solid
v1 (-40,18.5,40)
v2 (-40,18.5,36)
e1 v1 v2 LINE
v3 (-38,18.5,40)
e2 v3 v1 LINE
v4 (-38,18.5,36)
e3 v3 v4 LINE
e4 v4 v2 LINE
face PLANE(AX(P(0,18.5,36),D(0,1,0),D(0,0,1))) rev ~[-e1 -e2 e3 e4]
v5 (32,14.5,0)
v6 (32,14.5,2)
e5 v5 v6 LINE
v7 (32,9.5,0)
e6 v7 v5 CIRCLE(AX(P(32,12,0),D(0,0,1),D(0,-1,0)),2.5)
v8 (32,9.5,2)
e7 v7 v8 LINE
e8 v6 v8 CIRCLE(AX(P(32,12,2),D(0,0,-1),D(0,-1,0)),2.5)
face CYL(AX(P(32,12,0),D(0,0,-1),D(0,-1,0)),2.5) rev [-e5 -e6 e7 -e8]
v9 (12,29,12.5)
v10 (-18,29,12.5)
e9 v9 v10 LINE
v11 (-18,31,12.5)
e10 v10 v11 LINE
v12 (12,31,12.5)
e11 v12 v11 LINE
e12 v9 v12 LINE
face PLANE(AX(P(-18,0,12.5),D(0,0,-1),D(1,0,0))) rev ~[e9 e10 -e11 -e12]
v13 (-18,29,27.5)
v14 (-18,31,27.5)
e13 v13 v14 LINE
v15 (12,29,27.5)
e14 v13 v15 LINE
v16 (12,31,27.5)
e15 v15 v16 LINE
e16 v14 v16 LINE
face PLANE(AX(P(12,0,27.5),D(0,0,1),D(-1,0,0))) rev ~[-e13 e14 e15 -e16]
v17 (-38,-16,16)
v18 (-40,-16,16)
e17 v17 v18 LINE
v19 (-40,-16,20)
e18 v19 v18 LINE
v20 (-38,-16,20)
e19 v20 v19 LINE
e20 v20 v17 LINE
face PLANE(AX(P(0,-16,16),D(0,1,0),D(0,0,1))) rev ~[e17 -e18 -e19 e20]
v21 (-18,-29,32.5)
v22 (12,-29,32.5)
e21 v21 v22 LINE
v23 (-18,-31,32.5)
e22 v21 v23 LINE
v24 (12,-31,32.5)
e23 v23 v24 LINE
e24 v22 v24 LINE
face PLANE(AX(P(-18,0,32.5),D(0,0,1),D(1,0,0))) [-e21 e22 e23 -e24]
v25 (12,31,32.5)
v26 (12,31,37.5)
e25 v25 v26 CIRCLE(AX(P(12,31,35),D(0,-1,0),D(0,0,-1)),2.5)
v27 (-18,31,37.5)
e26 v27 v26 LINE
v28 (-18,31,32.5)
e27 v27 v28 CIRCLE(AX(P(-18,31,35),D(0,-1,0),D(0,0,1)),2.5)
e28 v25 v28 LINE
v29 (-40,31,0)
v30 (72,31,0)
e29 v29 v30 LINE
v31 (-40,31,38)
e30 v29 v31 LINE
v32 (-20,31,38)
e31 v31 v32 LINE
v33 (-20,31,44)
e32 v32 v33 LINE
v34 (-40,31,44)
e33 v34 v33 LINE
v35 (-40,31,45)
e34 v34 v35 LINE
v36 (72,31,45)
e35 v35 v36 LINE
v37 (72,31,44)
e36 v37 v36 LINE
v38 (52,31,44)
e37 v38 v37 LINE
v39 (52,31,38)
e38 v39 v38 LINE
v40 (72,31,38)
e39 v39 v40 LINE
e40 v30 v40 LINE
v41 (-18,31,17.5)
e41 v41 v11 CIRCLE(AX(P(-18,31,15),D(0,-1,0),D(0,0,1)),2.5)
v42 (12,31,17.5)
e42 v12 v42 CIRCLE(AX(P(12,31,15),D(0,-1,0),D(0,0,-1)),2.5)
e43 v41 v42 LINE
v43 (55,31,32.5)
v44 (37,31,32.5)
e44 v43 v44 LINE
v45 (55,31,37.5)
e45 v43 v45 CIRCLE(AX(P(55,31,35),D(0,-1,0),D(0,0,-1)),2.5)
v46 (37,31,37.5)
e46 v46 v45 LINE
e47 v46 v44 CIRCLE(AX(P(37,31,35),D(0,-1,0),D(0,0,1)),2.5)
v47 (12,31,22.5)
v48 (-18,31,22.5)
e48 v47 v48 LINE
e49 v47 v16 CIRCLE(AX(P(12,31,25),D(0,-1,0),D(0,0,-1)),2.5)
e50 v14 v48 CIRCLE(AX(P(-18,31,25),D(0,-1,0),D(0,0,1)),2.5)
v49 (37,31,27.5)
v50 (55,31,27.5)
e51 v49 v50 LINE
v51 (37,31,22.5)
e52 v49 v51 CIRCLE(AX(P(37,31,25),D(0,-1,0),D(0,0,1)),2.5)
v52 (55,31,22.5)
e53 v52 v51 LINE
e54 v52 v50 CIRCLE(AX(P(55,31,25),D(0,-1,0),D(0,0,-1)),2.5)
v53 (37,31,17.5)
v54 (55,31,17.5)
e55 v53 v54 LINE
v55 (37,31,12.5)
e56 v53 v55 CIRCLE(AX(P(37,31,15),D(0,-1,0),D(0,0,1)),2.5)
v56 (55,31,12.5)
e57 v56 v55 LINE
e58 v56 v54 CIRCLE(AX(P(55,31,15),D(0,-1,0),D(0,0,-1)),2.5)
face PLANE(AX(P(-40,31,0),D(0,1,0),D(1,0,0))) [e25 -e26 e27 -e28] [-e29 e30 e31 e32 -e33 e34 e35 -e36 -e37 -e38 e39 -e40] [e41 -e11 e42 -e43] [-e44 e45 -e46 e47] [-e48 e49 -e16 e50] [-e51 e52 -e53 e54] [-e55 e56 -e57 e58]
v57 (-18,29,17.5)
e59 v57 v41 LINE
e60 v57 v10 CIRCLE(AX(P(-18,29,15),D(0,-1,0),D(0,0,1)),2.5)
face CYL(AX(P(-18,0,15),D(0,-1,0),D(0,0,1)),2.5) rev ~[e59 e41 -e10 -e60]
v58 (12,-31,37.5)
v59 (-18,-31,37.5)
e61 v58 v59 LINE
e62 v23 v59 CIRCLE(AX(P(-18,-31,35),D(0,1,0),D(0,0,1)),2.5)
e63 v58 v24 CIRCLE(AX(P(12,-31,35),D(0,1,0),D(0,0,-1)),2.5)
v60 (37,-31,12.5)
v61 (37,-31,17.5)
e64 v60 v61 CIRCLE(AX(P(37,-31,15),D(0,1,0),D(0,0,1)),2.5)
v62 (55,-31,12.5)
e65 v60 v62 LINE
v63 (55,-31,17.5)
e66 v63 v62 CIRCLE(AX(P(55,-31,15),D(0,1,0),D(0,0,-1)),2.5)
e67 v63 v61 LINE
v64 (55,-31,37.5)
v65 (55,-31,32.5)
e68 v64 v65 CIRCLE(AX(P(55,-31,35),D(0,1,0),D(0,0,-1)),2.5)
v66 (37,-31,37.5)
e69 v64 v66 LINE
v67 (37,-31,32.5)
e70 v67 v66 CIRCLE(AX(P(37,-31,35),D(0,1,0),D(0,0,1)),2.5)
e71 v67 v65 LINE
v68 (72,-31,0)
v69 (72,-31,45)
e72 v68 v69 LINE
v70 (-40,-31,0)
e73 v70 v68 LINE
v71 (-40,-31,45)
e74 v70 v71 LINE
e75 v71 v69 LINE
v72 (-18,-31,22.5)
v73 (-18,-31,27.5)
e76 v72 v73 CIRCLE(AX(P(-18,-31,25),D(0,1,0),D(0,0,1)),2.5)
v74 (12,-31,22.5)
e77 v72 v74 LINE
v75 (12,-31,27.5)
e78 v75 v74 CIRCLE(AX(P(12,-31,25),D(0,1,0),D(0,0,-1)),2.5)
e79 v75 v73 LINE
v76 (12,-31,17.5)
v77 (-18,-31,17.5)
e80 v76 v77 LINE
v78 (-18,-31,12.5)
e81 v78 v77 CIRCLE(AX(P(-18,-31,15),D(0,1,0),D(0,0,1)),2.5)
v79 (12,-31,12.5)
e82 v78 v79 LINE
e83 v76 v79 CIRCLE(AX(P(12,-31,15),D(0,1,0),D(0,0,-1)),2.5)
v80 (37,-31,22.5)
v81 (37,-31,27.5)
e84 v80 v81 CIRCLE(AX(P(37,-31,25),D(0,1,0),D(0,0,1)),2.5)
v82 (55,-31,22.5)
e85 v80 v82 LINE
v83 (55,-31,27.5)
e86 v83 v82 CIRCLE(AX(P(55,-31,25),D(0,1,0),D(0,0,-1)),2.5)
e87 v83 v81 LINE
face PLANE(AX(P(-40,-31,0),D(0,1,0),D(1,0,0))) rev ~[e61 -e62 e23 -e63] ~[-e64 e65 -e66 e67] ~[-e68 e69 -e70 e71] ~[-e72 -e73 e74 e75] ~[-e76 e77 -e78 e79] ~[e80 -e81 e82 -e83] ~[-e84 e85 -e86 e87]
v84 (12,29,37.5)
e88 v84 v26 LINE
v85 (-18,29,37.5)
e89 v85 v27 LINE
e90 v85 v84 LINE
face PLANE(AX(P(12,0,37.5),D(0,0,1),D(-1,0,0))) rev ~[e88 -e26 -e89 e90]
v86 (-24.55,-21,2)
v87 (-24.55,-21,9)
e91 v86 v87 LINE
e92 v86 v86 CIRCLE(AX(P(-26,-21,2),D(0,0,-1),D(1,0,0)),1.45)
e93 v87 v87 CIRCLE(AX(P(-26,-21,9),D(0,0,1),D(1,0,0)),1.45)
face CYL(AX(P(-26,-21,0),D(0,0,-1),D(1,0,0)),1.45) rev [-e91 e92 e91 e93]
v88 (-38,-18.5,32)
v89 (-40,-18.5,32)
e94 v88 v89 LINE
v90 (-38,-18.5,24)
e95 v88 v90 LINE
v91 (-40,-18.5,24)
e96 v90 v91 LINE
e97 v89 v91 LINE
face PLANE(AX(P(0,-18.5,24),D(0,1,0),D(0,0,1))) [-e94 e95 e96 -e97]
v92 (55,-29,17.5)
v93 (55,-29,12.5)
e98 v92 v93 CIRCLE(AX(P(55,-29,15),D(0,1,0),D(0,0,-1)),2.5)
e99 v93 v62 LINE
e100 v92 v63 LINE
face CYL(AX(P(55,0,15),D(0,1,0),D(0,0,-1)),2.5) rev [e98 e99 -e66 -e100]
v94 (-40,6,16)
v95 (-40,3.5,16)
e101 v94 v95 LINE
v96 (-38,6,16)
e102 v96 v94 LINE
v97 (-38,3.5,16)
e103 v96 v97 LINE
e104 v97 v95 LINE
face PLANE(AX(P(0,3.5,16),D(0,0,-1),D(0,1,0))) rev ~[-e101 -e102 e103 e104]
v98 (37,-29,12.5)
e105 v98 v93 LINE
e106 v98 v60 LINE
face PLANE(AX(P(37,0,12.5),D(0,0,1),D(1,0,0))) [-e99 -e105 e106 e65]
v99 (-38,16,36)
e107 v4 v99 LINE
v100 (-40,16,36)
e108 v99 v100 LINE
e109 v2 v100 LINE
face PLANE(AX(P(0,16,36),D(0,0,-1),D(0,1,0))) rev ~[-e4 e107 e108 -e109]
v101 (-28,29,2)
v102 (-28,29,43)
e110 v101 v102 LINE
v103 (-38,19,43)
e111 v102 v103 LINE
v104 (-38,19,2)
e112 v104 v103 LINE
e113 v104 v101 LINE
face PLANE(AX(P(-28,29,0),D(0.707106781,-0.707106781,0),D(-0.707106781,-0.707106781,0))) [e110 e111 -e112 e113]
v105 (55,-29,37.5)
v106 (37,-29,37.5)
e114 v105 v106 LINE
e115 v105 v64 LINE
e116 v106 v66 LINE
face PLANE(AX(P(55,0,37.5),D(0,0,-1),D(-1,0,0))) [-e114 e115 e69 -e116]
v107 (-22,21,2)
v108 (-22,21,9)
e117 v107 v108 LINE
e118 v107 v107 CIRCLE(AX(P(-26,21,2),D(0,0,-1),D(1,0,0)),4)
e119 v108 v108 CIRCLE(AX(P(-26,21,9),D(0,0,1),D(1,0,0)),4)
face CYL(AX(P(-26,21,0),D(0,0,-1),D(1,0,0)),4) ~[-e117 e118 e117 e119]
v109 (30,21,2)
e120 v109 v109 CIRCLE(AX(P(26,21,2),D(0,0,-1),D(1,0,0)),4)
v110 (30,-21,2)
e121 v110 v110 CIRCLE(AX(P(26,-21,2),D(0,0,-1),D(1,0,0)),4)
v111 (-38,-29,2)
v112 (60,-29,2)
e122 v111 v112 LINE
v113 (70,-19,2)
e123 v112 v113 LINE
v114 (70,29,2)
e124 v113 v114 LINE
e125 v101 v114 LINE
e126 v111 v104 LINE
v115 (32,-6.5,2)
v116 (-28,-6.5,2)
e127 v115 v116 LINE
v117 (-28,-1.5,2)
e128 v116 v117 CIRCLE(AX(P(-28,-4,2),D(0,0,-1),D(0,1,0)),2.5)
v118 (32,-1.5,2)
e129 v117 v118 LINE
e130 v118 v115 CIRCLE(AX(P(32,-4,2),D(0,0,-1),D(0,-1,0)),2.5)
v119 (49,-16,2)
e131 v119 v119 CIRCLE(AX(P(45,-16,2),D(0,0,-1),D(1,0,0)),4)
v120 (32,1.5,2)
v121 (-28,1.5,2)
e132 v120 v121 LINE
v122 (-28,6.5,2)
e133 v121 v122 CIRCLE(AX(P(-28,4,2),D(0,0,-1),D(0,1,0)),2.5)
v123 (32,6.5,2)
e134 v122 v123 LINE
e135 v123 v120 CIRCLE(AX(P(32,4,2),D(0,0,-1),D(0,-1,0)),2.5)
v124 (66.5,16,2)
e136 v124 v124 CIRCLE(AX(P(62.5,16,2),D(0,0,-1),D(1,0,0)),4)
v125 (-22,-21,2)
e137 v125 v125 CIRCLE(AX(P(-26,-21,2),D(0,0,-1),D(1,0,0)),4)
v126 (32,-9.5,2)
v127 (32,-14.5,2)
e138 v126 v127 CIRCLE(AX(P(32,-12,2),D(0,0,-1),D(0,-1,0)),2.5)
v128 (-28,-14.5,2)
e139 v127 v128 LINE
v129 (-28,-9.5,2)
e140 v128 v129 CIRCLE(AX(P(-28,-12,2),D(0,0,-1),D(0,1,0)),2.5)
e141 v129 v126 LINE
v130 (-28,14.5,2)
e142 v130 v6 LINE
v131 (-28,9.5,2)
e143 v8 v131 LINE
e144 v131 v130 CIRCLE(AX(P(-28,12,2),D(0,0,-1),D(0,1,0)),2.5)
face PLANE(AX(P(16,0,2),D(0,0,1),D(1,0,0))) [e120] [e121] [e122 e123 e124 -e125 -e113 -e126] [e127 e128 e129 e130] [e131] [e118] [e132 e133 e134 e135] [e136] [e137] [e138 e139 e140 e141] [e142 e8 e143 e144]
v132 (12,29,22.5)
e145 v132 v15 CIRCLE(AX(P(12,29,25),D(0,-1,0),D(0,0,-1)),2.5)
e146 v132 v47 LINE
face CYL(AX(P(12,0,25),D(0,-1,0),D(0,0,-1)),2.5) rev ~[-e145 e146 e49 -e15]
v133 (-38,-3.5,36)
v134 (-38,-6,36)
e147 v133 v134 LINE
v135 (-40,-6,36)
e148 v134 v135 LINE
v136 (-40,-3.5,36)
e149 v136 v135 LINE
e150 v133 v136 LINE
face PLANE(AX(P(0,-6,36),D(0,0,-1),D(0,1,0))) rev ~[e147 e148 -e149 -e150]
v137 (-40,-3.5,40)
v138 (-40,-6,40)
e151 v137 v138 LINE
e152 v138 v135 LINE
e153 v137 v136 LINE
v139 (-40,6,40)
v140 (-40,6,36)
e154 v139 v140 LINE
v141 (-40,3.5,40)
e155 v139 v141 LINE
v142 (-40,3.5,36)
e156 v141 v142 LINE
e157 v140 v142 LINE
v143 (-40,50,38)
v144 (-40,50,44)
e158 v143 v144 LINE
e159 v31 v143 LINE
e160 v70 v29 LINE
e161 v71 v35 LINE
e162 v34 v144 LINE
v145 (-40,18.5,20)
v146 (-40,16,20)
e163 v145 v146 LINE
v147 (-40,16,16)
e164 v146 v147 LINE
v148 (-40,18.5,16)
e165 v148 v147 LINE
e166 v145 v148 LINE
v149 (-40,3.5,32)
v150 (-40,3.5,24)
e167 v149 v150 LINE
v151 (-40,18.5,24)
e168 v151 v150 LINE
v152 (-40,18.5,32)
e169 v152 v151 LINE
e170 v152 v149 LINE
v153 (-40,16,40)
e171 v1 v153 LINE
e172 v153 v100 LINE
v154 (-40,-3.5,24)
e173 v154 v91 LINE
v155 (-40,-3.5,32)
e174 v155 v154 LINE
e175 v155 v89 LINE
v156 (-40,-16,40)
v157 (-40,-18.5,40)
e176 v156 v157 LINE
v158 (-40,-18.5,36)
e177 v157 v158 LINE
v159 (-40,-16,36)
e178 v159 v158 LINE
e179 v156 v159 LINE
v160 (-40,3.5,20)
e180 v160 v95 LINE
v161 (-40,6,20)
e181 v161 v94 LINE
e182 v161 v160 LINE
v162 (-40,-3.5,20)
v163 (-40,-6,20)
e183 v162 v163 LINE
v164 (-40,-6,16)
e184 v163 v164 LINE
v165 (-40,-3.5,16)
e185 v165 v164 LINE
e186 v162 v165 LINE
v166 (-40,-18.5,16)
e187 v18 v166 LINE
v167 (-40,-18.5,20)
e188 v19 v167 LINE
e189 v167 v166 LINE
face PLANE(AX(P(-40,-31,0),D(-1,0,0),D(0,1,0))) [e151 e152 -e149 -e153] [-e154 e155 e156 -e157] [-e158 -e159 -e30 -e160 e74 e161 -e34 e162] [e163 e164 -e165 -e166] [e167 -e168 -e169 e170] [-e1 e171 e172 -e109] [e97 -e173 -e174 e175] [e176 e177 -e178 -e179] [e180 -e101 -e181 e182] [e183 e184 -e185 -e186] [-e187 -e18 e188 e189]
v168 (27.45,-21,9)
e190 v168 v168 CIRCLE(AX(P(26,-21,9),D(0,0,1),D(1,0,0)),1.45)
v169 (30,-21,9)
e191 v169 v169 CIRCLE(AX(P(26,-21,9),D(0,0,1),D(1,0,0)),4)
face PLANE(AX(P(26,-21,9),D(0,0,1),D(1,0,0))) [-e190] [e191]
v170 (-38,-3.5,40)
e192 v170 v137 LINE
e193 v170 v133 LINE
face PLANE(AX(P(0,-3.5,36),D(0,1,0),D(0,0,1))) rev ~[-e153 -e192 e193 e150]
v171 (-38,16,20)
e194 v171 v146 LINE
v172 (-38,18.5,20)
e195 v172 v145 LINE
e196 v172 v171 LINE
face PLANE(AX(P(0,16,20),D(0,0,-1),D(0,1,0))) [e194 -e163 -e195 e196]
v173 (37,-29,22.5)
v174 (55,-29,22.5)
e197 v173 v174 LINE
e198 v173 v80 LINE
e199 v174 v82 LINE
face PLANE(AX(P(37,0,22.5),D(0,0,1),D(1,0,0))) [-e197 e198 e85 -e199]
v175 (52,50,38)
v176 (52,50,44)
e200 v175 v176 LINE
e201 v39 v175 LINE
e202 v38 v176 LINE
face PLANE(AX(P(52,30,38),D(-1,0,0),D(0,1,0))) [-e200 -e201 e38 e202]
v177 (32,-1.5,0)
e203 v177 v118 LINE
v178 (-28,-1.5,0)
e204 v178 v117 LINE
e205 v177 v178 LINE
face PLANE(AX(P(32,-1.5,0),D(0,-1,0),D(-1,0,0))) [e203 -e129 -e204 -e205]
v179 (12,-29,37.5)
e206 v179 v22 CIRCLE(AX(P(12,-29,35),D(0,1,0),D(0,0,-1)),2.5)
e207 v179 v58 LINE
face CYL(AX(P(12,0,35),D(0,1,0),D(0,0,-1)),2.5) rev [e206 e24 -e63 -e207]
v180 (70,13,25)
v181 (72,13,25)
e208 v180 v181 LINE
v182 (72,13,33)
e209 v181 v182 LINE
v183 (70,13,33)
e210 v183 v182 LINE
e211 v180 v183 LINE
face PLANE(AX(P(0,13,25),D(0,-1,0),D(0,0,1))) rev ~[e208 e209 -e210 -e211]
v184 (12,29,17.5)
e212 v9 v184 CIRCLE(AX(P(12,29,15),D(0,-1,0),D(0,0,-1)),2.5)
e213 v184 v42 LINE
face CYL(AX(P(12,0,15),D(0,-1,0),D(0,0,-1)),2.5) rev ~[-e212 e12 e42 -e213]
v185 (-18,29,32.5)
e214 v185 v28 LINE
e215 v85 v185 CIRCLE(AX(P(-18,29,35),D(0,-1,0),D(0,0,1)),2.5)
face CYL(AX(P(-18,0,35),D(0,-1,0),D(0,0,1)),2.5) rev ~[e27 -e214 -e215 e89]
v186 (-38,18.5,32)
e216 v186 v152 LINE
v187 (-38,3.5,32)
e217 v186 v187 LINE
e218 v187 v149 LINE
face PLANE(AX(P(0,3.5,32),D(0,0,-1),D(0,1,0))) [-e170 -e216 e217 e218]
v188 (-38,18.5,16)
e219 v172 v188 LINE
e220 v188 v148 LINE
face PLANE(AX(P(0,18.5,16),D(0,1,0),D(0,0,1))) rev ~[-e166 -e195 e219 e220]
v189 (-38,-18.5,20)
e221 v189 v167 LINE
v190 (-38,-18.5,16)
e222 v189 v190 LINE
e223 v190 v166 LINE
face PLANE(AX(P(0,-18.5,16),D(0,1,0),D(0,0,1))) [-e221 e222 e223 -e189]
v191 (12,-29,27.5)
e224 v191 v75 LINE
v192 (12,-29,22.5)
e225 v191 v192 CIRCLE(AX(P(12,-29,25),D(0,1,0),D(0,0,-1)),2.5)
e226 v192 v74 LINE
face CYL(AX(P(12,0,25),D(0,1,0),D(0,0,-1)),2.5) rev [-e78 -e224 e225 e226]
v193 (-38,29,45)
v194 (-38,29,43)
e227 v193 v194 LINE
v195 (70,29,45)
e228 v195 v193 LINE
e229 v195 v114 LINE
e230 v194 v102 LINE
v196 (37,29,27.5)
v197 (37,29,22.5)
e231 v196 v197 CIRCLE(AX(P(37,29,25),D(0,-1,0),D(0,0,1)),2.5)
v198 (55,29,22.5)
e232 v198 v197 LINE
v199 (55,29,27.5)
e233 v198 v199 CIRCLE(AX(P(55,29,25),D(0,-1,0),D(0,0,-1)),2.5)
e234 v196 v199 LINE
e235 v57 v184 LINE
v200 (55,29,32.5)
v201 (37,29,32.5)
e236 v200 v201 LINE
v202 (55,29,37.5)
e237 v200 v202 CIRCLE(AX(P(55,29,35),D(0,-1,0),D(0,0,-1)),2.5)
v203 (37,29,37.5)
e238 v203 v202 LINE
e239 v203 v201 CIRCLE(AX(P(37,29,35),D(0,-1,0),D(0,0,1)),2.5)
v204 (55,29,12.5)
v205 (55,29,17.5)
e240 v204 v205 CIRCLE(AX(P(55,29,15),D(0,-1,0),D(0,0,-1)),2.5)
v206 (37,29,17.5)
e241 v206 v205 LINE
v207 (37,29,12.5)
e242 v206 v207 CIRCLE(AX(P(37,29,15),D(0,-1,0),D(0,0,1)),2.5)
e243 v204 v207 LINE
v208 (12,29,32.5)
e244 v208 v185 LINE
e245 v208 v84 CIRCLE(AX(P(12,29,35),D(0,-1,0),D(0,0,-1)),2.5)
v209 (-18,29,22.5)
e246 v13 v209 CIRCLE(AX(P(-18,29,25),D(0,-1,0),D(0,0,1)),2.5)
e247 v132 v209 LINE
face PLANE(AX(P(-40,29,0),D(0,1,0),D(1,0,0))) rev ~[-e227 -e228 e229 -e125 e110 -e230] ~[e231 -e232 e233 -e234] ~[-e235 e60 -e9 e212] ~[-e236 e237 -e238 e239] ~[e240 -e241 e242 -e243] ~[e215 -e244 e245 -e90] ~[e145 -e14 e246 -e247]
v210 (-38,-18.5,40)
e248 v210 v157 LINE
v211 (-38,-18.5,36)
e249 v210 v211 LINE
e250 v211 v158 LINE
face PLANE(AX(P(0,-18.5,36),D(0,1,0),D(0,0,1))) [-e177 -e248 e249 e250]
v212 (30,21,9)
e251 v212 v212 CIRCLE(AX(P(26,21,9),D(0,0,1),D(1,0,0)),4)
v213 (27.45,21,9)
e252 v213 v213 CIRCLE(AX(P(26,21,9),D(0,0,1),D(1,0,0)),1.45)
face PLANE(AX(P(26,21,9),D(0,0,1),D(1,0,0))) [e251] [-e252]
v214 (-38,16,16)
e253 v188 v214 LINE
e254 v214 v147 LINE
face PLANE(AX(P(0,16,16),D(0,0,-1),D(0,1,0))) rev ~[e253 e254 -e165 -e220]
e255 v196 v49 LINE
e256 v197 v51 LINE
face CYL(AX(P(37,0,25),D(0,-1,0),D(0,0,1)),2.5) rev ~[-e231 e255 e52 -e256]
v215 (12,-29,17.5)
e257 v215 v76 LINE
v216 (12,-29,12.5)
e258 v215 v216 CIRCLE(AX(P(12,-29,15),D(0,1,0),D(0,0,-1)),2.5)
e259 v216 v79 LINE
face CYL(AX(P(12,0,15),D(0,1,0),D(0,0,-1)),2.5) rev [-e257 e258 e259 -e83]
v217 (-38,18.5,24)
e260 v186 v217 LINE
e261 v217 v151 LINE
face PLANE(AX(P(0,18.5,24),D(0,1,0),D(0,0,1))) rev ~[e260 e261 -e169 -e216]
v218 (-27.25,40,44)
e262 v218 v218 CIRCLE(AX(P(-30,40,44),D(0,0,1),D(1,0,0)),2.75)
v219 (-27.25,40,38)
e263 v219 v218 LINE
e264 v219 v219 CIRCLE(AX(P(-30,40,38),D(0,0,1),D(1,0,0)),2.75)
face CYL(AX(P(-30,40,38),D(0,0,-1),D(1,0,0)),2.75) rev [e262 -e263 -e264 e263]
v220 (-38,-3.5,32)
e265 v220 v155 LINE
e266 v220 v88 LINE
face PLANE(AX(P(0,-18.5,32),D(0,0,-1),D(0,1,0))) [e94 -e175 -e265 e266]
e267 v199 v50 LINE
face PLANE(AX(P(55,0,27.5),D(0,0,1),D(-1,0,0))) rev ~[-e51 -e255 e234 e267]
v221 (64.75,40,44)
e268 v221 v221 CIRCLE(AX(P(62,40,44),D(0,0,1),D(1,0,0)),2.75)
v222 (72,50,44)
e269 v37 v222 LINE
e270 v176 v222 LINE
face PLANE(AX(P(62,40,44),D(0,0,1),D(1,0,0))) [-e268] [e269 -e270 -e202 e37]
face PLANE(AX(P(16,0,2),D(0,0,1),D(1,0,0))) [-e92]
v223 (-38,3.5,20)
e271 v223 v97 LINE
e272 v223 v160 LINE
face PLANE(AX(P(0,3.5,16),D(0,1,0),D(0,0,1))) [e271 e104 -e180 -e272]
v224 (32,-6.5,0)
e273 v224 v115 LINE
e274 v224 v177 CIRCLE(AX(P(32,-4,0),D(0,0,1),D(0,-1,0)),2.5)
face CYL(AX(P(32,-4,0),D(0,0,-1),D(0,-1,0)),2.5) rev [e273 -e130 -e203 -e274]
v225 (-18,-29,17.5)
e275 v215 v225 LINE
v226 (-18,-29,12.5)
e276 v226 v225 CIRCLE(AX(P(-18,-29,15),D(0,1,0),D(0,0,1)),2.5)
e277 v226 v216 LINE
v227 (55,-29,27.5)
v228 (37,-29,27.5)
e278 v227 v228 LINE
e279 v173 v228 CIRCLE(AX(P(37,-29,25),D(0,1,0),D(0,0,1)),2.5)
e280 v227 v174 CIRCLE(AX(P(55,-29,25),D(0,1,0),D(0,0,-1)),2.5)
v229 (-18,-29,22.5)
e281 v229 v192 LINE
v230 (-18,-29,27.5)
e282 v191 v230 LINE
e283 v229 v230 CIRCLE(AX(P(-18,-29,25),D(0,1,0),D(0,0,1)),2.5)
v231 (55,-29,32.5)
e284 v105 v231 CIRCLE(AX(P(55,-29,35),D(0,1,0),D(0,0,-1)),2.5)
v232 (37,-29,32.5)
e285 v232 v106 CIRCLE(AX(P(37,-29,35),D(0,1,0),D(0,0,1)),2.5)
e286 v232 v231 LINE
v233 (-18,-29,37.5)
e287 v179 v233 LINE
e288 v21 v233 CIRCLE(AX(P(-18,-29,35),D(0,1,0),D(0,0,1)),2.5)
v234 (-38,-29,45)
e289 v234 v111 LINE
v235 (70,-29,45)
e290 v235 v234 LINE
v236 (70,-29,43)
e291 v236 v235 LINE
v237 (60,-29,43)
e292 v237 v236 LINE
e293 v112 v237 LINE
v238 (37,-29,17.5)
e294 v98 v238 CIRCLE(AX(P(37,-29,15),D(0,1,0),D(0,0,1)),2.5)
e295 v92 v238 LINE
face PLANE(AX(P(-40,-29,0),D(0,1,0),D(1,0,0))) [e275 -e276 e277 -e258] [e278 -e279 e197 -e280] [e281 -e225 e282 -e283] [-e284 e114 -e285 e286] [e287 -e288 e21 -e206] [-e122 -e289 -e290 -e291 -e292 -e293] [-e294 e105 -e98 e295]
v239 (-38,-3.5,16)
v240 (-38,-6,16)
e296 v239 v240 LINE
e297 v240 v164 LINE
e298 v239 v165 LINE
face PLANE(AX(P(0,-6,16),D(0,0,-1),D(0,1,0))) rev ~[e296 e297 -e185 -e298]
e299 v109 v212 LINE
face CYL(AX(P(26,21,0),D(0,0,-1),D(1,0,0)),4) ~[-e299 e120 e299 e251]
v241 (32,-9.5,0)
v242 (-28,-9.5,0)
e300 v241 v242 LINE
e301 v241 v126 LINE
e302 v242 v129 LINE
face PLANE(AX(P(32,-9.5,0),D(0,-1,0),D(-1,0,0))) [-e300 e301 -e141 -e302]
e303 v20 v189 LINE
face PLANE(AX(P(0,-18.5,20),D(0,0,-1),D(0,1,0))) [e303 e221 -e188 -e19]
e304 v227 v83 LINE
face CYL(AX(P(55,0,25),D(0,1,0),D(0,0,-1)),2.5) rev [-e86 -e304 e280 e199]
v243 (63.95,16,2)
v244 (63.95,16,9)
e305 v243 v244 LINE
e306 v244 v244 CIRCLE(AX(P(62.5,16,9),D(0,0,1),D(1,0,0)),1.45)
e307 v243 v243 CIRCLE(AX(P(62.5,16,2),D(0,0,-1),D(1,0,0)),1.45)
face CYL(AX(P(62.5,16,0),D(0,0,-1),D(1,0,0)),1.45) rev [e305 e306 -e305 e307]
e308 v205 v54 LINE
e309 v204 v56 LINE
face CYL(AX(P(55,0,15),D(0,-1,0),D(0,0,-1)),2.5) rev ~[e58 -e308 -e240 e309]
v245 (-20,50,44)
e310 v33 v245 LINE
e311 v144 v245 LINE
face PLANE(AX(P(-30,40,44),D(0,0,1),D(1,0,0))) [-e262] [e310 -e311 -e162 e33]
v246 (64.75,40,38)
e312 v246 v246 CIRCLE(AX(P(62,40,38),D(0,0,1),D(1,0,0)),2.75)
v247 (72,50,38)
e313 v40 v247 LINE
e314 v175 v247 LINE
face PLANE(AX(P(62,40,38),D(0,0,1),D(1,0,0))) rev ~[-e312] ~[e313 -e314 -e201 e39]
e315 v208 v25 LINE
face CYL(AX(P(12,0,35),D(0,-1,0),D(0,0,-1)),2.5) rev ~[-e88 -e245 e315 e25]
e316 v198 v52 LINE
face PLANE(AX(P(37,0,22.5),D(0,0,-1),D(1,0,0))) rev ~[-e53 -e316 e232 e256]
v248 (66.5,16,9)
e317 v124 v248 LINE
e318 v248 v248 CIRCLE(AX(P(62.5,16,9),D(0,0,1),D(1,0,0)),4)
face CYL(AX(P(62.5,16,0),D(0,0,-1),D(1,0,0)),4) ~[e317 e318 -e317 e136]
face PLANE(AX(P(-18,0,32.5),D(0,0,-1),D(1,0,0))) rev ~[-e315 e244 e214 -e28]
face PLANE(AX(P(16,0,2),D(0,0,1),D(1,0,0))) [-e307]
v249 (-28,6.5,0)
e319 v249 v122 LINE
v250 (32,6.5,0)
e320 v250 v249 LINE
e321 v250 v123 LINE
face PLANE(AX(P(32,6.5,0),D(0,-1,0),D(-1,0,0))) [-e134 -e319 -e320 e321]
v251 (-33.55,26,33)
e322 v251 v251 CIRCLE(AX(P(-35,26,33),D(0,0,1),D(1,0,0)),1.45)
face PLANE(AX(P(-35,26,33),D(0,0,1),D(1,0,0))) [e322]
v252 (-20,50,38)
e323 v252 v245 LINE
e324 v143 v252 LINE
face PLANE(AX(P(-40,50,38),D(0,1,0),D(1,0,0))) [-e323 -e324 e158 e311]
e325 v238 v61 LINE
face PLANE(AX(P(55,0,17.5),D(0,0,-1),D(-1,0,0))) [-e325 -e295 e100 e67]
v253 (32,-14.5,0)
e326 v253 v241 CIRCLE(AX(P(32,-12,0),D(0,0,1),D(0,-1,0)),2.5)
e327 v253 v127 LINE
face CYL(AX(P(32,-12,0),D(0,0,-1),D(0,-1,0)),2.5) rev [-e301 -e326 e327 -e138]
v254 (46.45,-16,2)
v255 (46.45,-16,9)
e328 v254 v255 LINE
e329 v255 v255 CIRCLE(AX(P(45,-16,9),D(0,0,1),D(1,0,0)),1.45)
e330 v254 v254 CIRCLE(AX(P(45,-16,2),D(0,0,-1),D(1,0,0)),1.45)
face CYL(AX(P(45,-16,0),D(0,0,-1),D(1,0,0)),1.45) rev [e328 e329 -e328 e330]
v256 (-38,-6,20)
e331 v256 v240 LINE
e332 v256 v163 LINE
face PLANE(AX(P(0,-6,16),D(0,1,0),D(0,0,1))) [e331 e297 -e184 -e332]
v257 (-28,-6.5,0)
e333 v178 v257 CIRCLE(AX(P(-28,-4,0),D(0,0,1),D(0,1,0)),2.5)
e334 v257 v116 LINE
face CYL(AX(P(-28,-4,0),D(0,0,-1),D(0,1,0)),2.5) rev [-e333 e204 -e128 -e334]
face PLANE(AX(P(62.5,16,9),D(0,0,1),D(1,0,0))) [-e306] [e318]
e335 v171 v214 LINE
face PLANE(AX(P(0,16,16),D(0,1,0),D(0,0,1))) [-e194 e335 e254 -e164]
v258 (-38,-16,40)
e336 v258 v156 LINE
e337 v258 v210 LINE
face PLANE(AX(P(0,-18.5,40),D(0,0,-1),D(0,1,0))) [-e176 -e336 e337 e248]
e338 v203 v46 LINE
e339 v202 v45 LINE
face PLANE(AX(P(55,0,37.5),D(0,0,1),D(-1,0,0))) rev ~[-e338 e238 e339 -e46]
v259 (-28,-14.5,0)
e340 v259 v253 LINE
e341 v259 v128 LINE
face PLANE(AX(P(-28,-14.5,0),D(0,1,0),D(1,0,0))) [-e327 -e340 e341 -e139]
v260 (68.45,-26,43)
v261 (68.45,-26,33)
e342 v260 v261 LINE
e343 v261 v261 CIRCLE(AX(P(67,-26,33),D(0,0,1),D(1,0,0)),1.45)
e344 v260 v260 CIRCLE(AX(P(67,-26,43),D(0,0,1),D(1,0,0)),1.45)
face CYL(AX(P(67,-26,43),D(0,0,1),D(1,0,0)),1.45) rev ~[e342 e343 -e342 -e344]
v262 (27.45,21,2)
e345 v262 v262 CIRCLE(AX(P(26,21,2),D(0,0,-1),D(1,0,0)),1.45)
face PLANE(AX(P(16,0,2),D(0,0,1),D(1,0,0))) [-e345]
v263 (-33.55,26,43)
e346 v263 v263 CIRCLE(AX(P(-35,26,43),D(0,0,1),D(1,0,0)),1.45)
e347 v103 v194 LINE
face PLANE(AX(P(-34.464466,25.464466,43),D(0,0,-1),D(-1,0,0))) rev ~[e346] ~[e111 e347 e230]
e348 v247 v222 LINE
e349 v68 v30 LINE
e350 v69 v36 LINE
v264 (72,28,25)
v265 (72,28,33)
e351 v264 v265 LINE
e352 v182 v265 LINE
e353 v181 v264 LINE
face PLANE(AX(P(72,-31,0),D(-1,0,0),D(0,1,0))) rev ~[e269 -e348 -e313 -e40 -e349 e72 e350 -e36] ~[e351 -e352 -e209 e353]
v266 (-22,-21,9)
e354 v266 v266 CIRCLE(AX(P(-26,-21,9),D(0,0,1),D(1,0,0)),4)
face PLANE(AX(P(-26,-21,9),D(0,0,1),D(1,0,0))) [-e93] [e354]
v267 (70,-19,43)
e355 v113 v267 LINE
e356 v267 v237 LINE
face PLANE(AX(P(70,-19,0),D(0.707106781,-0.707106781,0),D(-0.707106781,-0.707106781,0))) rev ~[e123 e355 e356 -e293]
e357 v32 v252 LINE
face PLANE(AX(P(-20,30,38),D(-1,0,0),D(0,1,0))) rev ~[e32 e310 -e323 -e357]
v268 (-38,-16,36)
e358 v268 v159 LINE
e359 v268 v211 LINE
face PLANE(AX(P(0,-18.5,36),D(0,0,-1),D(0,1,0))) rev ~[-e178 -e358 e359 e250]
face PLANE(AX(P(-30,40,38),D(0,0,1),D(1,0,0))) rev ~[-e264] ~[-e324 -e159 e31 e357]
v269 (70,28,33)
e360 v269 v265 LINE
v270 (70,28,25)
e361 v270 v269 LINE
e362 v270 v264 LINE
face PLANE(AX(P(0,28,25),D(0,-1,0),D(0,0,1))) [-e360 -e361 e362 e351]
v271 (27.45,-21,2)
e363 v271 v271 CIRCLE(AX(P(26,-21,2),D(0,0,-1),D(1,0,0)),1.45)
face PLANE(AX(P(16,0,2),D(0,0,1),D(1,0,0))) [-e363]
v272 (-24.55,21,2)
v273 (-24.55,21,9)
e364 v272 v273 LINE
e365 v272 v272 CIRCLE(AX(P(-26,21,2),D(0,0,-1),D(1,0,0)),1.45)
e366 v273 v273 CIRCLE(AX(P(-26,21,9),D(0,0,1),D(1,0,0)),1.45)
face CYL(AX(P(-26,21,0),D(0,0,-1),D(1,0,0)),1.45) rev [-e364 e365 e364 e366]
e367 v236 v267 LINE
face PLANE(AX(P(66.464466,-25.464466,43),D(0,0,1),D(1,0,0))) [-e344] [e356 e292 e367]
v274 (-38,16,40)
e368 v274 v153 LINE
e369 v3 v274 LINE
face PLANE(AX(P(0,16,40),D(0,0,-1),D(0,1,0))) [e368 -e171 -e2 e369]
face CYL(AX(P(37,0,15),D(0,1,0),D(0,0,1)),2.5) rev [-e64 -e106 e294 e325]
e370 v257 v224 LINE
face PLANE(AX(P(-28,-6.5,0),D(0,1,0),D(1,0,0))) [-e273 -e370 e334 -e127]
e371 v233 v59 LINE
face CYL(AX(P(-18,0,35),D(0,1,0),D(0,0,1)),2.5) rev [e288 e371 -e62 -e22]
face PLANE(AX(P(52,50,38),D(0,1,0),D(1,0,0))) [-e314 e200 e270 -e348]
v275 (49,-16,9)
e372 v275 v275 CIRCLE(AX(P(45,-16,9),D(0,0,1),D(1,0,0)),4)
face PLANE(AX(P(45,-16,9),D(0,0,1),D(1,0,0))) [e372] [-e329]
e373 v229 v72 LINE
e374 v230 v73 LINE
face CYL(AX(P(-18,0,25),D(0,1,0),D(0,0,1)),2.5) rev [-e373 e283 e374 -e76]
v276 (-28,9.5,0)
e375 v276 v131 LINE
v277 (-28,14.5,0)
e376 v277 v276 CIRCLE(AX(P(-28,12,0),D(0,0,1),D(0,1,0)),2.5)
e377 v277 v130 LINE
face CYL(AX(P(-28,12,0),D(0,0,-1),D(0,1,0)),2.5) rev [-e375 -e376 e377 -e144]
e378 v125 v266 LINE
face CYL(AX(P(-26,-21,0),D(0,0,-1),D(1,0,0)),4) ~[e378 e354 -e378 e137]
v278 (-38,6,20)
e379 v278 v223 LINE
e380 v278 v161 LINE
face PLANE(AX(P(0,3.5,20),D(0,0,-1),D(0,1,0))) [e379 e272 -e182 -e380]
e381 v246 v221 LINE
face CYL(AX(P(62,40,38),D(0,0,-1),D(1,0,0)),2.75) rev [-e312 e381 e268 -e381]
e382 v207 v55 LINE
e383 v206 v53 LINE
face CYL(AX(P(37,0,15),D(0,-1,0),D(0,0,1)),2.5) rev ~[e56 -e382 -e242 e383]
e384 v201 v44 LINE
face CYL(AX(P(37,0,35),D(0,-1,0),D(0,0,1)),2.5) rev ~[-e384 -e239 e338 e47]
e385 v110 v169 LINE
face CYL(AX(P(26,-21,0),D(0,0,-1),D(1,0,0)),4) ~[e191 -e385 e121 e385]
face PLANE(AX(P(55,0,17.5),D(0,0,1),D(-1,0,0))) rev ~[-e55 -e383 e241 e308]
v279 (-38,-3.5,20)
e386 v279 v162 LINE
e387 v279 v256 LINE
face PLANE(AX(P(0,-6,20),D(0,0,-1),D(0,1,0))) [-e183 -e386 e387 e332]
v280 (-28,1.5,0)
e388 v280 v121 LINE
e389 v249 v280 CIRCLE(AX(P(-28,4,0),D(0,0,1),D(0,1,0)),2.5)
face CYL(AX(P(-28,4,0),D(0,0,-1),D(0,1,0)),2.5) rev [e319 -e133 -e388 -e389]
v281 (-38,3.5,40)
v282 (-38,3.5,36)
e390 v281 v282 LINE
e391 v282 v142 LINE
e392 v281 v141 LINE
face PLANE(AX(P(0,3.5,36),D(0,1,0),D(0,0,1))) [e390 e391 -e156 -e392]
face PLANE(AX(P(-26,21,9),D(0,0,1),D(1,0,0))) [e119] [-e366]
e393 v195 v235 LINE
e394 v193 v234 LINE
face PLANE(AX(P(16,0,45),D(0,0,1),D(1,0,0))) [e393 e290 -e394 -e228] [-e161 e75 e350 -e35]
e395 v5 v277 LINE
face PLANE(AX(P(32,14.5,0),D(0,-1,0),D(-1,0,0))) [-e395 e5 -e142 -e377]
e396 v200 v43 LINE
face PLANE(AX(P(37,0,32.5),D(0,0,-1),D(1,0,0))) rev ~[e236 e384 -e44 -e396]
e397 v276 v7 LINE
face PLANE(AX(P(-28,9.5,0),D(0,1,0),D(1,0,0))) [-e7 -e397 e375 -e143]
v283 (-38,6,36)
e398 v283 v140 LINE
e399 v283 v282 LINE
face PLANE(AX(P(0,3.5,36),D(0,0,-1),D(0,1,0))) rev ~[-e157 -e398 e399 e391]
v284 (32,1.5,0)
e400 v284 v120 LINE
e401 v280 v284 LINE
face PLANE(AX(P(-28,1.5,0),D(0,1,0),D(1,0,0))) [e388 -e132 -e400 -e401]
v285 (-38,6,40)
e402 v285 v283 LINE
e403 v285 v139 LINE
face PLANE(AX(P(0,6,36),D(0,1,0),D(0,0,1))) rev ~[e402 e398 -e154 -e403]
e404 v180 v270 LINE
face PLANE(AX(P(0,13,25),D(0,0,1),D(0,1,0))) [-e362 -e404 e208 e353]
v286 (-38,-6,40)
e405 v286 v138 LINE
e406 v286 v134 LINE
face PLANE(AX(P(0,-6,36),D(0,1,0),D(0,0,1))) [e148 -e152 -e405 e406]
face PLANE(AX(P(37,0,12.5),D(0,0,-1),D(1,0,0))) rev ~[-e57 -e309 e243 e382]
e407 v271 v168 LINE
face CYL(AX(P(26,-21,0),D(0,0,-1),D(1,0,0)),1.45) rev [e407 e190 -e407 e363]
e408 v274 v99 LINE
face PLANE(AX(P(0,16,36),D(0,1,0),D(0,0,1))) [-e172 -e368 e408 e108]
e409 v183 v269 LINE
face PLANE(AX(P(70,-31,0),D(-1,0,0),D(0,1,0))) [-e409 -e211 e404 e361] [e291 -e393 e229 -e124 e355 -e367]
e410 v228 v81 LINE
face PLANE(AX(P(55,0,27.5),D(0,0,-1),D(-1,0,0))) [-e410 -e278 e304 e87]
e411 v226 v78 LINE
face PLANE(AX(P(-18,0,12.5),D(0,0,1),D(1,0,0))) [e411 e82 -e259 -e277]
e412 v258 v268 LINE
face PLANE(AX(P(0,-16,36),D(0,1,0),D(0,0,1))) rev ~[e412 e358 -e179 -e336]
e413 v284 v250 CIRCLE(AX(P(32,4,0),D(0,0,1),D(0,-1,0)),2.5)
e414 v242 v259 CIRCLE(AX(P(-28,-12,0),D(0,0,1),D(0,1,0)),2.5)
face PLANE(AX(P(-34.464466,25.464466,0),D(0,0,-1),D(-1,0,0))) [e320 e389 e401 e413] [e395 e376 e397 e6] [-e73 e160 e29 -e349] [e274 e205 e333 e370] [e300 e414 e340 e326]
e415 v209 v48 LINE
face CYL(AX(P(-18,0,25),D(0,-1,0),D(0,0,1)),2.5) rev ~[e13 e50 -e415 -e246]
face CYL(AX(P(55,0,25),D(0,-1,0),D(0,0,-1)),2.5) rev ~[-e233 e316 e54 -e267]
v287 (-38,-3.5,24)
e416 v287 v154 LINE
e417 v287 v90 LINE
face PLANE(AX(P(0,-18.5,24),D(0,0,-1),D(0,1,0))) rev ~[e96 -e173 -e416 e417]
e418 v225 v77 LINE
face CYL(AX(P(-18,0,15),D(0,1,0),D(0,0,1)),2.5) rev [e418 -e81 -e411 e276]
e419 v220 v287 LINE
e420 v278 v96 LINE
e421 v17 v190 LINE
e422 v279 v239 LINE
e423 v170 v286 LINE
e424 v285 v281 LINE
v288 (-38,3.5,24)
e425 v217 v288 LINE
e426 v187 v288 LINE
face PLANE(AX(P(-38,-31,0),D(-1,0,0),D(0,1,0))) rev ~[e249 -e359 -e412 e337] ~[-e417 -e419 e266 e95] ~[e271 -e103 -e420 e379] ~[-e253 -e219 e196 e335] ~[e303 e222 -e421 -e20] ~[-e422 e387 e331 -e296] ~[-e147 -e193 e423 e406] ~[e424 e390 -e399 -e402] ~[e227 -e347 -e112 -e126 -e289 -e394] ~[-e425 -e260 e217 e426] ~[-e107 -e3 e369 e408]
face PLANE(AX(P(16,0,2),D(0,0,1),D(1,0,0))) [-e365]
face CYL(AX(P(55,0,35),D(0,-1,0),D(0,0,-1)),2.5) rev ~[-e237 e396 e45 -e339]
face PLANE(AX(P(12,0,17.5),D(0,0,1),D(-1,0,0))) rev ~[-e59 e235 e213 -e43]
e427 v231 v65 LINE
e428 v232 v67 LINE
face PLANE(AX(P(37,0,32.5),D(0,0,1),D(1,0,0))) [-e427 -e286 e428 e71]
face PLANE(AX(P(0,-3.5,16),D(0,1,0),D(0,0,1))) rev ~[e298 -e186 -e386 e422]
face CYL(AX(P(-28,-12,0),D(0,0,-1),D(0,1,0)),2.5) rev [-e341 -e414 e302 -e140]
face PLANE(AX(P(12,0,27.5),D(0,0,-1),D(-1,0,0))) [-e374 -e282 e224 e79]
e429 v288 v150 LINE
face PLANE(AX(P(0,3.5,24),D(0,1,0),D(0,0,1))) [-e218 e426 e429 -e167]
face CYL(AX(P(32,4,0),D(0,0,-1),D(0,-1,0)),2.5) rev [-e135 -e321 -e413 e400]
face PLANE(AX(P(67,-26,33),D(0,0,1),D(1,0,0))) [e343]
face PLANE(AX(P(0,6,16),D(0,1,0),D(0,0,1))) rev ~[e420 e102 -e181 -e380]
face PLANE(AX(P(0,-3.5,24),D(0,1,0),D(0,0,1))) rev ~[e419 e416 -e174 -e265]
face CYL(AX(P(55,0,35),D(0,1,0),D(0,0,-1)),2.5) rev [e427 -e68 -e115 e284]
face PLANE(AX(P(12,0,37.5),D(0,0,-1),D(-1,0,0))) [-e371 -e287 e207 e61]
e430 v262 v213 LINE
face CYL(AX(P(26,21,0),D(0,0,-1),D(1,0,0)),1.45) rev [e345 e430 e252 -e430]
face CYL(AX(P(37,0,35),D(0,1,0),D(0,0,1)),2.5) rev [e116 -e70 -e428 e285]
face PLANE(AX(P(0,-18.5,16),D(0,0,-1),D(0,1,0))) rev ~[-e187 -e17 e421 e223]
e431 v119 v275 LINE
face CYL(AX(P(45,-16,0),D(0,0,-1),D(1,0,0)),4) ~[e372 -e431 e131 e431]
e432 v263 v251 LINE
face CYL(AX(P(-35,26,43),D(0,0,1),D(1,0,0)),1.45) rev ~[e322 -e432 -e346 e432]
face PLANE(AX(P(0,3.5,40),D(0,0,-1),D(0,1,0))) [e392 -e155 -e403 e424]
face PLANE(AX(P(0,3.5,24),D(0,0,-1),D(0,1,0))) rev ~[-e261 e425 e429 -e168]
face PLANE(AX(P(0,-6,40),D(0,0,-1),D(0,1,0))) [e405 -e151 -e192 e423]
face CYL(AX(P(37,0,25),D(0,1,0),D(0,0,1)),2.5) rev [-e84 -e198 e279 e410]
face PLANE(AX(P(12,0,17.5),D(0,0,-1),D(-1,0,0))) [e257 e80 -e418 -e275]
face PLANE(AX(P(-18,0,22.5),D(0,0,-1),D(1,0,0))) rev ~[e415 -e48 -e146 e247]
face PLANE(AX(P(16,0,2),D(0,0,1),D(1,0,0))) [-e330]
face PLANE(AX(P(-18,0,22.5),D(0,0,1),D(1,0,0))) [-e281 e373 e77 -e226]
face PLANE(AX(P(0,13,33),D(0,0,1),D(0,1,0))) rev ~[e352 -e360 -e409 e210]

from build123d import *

# Parameters (mm, degrees)
SKETCH_W             = 112
SKETCH_H             = 62
PAD_DEPTH            = 45
THICKNESS_T          = -2
SKETCH001_R          = 4
SKETCH001_R_2        = 1.45
PAD001_DEPTH         = 9
POCKET_DEPTH         = 5
POCKET001_DEPTH      = 31.001
POCKET001_DEPTH_BACK = 31.001
SKETCH004_W          = 15
SKETCH004_H          = 8
POCKET002_DEPTH      = 72.001
SKETCH005_W          = 15
SKETCH005_H          = 8
SKETCH005_W_2        = 2.5
SKETCH005_H_2        = 4
POCKET003_DEPTH      = 40.001
PAD002_DEPTH         = 43
SKETCH007_R          = 1.45
POCKET004_DEPTH      = 10
SKETCH009_W          = 20
SKETCH009_H          = 20
SKETCH009_R          = 2.75
PAD004_DEPTH         = 6


with BuildPart() as part:
    # Sketch → Pad (new body)
    with BuildSketch(Plane.XY):
        with Locations((16, 0)):
            Rectangle(SKETCH_W, SKETCH_H)
    extrude(amount=PAD_DEPTH)

    # Thickness
    thickness_openings = [part.faces().sort_by_distance(p)[0] for p in [
        (16, 0, 45),
    ]]
    offset(amount=THICKNESS_T, openings=thickness_openings, kind=Kind.INTERSECTION)

    # Sketch001 → Pad001 (join)
    with BuildSketch(Plane.XY):
        with Locations((-26, 21)):
            Circle(SKETCH001_R)
        with Locations((-26, 21)):
            Circle(SKETCH001_R_2, mode=Mode.SUBTRACT)
        with Locations((26, 21)):
            Circle(SKETCH001_R)
        with Locations((26, 21)):
            Circle(SKETCH001_R_2, mode=Mode.SUBTRACT)
        with Locations((-26, -21)):
            Circle(SKETCH001_R)
        with Locations((-26, -21)):
            Circle(SKETCH001_R_2, mode=Mode.SUBTRACT)
        with Locations((26, -21)):
            Circle(SKETCH001_R)
        with Locations((26, -21)):
            Circle(SKETCH001_R_2, mode=Mode.SUBTRACT)
        with Locations((62.5, 16)):
            Circle(SKETCH001_R)
        with Locations((62.5, 16)):
            Circle(SKETCH001_R_2, mode=Mode.SUBTRACT)
        with Locations((45, -16)):
            Circle(SKETCH001_R)
        with Locations((45, -16)):
            Circle(SKETCH001_R_2, mode=Mode.SUBTRACT)
    extrude(amount=PAD001_DEPTH)

    # Sketch002 → Pocket (cut)
    with BuildSketch(Plane.XY):
        with BuildLine():
            ThreePointArc((-28, 14.5), (-30.5, 12), (-28, 9.5))
            Line((-28, 9.5), (32, 9.5))
            ThreePointArc((32, 9.5), (34.5, 12), (32, 14.5))
            Line((32, 14.5), (-28, 14.5))
        make_face()
        with BuildLine():
            ThreePointArc((-28, 6.5), (-30.5, 4), (-28, 1.5))
            Line((-28, 1.5), (32, 1.5))
            ThreePointArc((32, 1.5), (34.5, 4), (32, 6.5))
            Line((32, 6.5), (-28, 6.5))
        make_face()
        with BuildLine():
            ThreePointArc((-28, -1.5), (-30.5, -4), (-28, -6.5))
            Line((-28, -6.5), (32, -6.5))
            ThreePointArc((32, -6.5), (34.5, -4), (32, -1.5))
            Line((32, -1.5), (-28, -1.5))
        make_face()
        with BuildLine():
            ThreePointArc((-28, -9.5), (-30.5, -12), (-28, -14.5))
            Line((-28, -14.5), (32, -14.5))
            ThreePointArc((32, -14.5), (34.5, -12), (32, -9.5))
            Line((32, -9.5), (-28, -9.5))
        make_face()
    extrude(amount=POCKET_DEPTH, mode=Mode.SUBTRACT)

    # Sketch003 → Pocket001 (cut, two sides)
    with BuildSketch(Plane.XZ) as pocket001_sk:
        with BuildLine():
            ThreePointArc((-18, 37.5), (-20.5, 35), (-18, 32.5))
            Line((-18, 32.5), (12, 32.5))
            ThreePointArc((12, 32.5), (14.5, 35), (12, 37.5))
            Line((12, 37.5), (-18, 37.5))
        make_face()
        with BuildLine():
            ThreePointArc((-18, 27.5), (-20.5, 25), (-18, 22.5))
            Line((-18, 22.5), (12, 22.5))
            ThreePointArc((12, 22.5), (14.5, 25), (12, 27.5))
            Line((12, 27.5), (-18, 27.5))
        make_face()
        with BuildLine():
            ThreePointArc((-18, 17.5), (-20.5, 15), (-18, 12.5))
            Line((-18, 12.5), (12, 12.5))
            ThreePointArc((12, 12.5), (14.5, 15), (12, 17.5))
            Line((12, 17.5), (-18, 17.5))
        make_face()
        with BuildLine():
            ThreePointArc((37, 37.5), (34.5, 35), (37, 32.5))
            Line((37, 32.5), (55, 32.5))
            ThreePointArc((55, 32.5), (57.5, 35), (55, 37.5))
            Line((55, 37.5), (37, 37.5))
        make_face()
        with BuildLine():
            ThreePointArc((37, 27.5), (34.5, 25), (37, 22.5))
            Line((37, 22.5), (55, 22.5))
            ThreePointArc((55, 22.5), (57.5, 25), (55, 27.5))
            Line((55, 27.5), (37, 27.5))
        make_face()
        with BuildLine():
            ThreePointArc((37, 17.5), (34.5, 15), (37, 12.5))
            Line((37, 12.5), (55, 12.5))
            ThreePointArc((55, 12.5), (57.5, 15), (55, 17.5))
            Line((55, 17.5), (37, 17.5))
        make_face()
    extrude(amount=-POCKET001_DEPTH, mode=Mode.SUBTRACT)
    extrude(pocket001_sk.sketch, amount=POCKET001_DEPTH_BACK, mode=Mode.SUBTRACT)

    # Sketch004 → Pocket002 (cut, through all)
    with BuildSketch(Plane.YZ):
        with Locations((20.5, 29)):
            Rectangle(SKETCH004_W, SKETCH004_H)
    extrude(amount=POCKET002_DEPTH, mode=Mode.SUBTRACT)

    # Sketch005 → Pocket003 (cut, through all)
    with BuildSketch(Plane.YZ):
        with Locations((-11, 28)):
            Rectangle(SKETCH005_W, SKETCH005_H)
        with Locations((11, 28)):
            Rectangle(SKETCH005_W, SKETCH005_H)
        with Locations((-17.25, 38)):
            Rectangle(SKETCH005_W_2, SKETCH005_H_2)
        with Locations((-4.75, 38)):
            Rectangle(SKETCH005_W_2, SKETCH005_H_2)
        with Locations((4.75, 38)):
            Rectangle(SKETCH005_W_2, SKETCH005_H_2)
        with Locations((17.25, 38)):
            Rectangle(SKETCH005_W_2, SKETCH005_H_2)
        with Locations((-17.25, 18)):
            Rectangle(SKETCH005_W_2, SKETCH005_H_2)
        with Locations((-4.75, 18)):
            Rectangle(SKETCH005_W_2, SKETCH005_H_2)
        with Locations((4.75, 18)):
            Rectangle(SKETCH005_W_2, SKETCH005_H_2)
        with Locations((17.25, 18)):
            Rectangle(SKETCH005_W_2, SKETCH005_H_2)
    extrude(amount=-POCKET003_DEPTH, mode=Mode.SUBTRACT)

    # Sketch006 → Pad002 (join)
    with BuildSketch(Plane.XY):
        Polygon((-38, 29), (-28, 29), (-38, 19), align=None)
        Polygon((70, -29), (70, -19), (60, -29), align=None)
    extrude(amount=PAD002_DEPTH)

    # Sketch007 (on DatumPlane) → Pocket004 (cut)
    with BuildSketch(Plane.XY.offset(43)):
        with Locations((-35, 26)):
            Circle(SKETCH007_R)
        with Locations((67, -26)):
            Circle(SKETCH007_R)
    extrude(amount=-POCKET004_DEPTH, mode=Mode.SUBTRACT)

    # Sketch009 (on DatumPlane) → Pad004 (join)
    with BuildSketch(Plane.XY.offset(38)):
        with Locations((-30, 40)):
            Rectangle(SKETCH009_W, SKETCH009_H)
        with Locations((-30, 40)):
            Circle(SKETCH009_R, mode=Mode.SUBTRACT)
        with Locations((62, 40)):
            Rectangle(SKETCH009_W, SKETCH009_H)
        with Locations((62, 40)):
            Circle(SKETCH009_R, mode=Mode.SUBTRACT)
    extrude(amount=PAD004_DEPTH)


solid = part.part
